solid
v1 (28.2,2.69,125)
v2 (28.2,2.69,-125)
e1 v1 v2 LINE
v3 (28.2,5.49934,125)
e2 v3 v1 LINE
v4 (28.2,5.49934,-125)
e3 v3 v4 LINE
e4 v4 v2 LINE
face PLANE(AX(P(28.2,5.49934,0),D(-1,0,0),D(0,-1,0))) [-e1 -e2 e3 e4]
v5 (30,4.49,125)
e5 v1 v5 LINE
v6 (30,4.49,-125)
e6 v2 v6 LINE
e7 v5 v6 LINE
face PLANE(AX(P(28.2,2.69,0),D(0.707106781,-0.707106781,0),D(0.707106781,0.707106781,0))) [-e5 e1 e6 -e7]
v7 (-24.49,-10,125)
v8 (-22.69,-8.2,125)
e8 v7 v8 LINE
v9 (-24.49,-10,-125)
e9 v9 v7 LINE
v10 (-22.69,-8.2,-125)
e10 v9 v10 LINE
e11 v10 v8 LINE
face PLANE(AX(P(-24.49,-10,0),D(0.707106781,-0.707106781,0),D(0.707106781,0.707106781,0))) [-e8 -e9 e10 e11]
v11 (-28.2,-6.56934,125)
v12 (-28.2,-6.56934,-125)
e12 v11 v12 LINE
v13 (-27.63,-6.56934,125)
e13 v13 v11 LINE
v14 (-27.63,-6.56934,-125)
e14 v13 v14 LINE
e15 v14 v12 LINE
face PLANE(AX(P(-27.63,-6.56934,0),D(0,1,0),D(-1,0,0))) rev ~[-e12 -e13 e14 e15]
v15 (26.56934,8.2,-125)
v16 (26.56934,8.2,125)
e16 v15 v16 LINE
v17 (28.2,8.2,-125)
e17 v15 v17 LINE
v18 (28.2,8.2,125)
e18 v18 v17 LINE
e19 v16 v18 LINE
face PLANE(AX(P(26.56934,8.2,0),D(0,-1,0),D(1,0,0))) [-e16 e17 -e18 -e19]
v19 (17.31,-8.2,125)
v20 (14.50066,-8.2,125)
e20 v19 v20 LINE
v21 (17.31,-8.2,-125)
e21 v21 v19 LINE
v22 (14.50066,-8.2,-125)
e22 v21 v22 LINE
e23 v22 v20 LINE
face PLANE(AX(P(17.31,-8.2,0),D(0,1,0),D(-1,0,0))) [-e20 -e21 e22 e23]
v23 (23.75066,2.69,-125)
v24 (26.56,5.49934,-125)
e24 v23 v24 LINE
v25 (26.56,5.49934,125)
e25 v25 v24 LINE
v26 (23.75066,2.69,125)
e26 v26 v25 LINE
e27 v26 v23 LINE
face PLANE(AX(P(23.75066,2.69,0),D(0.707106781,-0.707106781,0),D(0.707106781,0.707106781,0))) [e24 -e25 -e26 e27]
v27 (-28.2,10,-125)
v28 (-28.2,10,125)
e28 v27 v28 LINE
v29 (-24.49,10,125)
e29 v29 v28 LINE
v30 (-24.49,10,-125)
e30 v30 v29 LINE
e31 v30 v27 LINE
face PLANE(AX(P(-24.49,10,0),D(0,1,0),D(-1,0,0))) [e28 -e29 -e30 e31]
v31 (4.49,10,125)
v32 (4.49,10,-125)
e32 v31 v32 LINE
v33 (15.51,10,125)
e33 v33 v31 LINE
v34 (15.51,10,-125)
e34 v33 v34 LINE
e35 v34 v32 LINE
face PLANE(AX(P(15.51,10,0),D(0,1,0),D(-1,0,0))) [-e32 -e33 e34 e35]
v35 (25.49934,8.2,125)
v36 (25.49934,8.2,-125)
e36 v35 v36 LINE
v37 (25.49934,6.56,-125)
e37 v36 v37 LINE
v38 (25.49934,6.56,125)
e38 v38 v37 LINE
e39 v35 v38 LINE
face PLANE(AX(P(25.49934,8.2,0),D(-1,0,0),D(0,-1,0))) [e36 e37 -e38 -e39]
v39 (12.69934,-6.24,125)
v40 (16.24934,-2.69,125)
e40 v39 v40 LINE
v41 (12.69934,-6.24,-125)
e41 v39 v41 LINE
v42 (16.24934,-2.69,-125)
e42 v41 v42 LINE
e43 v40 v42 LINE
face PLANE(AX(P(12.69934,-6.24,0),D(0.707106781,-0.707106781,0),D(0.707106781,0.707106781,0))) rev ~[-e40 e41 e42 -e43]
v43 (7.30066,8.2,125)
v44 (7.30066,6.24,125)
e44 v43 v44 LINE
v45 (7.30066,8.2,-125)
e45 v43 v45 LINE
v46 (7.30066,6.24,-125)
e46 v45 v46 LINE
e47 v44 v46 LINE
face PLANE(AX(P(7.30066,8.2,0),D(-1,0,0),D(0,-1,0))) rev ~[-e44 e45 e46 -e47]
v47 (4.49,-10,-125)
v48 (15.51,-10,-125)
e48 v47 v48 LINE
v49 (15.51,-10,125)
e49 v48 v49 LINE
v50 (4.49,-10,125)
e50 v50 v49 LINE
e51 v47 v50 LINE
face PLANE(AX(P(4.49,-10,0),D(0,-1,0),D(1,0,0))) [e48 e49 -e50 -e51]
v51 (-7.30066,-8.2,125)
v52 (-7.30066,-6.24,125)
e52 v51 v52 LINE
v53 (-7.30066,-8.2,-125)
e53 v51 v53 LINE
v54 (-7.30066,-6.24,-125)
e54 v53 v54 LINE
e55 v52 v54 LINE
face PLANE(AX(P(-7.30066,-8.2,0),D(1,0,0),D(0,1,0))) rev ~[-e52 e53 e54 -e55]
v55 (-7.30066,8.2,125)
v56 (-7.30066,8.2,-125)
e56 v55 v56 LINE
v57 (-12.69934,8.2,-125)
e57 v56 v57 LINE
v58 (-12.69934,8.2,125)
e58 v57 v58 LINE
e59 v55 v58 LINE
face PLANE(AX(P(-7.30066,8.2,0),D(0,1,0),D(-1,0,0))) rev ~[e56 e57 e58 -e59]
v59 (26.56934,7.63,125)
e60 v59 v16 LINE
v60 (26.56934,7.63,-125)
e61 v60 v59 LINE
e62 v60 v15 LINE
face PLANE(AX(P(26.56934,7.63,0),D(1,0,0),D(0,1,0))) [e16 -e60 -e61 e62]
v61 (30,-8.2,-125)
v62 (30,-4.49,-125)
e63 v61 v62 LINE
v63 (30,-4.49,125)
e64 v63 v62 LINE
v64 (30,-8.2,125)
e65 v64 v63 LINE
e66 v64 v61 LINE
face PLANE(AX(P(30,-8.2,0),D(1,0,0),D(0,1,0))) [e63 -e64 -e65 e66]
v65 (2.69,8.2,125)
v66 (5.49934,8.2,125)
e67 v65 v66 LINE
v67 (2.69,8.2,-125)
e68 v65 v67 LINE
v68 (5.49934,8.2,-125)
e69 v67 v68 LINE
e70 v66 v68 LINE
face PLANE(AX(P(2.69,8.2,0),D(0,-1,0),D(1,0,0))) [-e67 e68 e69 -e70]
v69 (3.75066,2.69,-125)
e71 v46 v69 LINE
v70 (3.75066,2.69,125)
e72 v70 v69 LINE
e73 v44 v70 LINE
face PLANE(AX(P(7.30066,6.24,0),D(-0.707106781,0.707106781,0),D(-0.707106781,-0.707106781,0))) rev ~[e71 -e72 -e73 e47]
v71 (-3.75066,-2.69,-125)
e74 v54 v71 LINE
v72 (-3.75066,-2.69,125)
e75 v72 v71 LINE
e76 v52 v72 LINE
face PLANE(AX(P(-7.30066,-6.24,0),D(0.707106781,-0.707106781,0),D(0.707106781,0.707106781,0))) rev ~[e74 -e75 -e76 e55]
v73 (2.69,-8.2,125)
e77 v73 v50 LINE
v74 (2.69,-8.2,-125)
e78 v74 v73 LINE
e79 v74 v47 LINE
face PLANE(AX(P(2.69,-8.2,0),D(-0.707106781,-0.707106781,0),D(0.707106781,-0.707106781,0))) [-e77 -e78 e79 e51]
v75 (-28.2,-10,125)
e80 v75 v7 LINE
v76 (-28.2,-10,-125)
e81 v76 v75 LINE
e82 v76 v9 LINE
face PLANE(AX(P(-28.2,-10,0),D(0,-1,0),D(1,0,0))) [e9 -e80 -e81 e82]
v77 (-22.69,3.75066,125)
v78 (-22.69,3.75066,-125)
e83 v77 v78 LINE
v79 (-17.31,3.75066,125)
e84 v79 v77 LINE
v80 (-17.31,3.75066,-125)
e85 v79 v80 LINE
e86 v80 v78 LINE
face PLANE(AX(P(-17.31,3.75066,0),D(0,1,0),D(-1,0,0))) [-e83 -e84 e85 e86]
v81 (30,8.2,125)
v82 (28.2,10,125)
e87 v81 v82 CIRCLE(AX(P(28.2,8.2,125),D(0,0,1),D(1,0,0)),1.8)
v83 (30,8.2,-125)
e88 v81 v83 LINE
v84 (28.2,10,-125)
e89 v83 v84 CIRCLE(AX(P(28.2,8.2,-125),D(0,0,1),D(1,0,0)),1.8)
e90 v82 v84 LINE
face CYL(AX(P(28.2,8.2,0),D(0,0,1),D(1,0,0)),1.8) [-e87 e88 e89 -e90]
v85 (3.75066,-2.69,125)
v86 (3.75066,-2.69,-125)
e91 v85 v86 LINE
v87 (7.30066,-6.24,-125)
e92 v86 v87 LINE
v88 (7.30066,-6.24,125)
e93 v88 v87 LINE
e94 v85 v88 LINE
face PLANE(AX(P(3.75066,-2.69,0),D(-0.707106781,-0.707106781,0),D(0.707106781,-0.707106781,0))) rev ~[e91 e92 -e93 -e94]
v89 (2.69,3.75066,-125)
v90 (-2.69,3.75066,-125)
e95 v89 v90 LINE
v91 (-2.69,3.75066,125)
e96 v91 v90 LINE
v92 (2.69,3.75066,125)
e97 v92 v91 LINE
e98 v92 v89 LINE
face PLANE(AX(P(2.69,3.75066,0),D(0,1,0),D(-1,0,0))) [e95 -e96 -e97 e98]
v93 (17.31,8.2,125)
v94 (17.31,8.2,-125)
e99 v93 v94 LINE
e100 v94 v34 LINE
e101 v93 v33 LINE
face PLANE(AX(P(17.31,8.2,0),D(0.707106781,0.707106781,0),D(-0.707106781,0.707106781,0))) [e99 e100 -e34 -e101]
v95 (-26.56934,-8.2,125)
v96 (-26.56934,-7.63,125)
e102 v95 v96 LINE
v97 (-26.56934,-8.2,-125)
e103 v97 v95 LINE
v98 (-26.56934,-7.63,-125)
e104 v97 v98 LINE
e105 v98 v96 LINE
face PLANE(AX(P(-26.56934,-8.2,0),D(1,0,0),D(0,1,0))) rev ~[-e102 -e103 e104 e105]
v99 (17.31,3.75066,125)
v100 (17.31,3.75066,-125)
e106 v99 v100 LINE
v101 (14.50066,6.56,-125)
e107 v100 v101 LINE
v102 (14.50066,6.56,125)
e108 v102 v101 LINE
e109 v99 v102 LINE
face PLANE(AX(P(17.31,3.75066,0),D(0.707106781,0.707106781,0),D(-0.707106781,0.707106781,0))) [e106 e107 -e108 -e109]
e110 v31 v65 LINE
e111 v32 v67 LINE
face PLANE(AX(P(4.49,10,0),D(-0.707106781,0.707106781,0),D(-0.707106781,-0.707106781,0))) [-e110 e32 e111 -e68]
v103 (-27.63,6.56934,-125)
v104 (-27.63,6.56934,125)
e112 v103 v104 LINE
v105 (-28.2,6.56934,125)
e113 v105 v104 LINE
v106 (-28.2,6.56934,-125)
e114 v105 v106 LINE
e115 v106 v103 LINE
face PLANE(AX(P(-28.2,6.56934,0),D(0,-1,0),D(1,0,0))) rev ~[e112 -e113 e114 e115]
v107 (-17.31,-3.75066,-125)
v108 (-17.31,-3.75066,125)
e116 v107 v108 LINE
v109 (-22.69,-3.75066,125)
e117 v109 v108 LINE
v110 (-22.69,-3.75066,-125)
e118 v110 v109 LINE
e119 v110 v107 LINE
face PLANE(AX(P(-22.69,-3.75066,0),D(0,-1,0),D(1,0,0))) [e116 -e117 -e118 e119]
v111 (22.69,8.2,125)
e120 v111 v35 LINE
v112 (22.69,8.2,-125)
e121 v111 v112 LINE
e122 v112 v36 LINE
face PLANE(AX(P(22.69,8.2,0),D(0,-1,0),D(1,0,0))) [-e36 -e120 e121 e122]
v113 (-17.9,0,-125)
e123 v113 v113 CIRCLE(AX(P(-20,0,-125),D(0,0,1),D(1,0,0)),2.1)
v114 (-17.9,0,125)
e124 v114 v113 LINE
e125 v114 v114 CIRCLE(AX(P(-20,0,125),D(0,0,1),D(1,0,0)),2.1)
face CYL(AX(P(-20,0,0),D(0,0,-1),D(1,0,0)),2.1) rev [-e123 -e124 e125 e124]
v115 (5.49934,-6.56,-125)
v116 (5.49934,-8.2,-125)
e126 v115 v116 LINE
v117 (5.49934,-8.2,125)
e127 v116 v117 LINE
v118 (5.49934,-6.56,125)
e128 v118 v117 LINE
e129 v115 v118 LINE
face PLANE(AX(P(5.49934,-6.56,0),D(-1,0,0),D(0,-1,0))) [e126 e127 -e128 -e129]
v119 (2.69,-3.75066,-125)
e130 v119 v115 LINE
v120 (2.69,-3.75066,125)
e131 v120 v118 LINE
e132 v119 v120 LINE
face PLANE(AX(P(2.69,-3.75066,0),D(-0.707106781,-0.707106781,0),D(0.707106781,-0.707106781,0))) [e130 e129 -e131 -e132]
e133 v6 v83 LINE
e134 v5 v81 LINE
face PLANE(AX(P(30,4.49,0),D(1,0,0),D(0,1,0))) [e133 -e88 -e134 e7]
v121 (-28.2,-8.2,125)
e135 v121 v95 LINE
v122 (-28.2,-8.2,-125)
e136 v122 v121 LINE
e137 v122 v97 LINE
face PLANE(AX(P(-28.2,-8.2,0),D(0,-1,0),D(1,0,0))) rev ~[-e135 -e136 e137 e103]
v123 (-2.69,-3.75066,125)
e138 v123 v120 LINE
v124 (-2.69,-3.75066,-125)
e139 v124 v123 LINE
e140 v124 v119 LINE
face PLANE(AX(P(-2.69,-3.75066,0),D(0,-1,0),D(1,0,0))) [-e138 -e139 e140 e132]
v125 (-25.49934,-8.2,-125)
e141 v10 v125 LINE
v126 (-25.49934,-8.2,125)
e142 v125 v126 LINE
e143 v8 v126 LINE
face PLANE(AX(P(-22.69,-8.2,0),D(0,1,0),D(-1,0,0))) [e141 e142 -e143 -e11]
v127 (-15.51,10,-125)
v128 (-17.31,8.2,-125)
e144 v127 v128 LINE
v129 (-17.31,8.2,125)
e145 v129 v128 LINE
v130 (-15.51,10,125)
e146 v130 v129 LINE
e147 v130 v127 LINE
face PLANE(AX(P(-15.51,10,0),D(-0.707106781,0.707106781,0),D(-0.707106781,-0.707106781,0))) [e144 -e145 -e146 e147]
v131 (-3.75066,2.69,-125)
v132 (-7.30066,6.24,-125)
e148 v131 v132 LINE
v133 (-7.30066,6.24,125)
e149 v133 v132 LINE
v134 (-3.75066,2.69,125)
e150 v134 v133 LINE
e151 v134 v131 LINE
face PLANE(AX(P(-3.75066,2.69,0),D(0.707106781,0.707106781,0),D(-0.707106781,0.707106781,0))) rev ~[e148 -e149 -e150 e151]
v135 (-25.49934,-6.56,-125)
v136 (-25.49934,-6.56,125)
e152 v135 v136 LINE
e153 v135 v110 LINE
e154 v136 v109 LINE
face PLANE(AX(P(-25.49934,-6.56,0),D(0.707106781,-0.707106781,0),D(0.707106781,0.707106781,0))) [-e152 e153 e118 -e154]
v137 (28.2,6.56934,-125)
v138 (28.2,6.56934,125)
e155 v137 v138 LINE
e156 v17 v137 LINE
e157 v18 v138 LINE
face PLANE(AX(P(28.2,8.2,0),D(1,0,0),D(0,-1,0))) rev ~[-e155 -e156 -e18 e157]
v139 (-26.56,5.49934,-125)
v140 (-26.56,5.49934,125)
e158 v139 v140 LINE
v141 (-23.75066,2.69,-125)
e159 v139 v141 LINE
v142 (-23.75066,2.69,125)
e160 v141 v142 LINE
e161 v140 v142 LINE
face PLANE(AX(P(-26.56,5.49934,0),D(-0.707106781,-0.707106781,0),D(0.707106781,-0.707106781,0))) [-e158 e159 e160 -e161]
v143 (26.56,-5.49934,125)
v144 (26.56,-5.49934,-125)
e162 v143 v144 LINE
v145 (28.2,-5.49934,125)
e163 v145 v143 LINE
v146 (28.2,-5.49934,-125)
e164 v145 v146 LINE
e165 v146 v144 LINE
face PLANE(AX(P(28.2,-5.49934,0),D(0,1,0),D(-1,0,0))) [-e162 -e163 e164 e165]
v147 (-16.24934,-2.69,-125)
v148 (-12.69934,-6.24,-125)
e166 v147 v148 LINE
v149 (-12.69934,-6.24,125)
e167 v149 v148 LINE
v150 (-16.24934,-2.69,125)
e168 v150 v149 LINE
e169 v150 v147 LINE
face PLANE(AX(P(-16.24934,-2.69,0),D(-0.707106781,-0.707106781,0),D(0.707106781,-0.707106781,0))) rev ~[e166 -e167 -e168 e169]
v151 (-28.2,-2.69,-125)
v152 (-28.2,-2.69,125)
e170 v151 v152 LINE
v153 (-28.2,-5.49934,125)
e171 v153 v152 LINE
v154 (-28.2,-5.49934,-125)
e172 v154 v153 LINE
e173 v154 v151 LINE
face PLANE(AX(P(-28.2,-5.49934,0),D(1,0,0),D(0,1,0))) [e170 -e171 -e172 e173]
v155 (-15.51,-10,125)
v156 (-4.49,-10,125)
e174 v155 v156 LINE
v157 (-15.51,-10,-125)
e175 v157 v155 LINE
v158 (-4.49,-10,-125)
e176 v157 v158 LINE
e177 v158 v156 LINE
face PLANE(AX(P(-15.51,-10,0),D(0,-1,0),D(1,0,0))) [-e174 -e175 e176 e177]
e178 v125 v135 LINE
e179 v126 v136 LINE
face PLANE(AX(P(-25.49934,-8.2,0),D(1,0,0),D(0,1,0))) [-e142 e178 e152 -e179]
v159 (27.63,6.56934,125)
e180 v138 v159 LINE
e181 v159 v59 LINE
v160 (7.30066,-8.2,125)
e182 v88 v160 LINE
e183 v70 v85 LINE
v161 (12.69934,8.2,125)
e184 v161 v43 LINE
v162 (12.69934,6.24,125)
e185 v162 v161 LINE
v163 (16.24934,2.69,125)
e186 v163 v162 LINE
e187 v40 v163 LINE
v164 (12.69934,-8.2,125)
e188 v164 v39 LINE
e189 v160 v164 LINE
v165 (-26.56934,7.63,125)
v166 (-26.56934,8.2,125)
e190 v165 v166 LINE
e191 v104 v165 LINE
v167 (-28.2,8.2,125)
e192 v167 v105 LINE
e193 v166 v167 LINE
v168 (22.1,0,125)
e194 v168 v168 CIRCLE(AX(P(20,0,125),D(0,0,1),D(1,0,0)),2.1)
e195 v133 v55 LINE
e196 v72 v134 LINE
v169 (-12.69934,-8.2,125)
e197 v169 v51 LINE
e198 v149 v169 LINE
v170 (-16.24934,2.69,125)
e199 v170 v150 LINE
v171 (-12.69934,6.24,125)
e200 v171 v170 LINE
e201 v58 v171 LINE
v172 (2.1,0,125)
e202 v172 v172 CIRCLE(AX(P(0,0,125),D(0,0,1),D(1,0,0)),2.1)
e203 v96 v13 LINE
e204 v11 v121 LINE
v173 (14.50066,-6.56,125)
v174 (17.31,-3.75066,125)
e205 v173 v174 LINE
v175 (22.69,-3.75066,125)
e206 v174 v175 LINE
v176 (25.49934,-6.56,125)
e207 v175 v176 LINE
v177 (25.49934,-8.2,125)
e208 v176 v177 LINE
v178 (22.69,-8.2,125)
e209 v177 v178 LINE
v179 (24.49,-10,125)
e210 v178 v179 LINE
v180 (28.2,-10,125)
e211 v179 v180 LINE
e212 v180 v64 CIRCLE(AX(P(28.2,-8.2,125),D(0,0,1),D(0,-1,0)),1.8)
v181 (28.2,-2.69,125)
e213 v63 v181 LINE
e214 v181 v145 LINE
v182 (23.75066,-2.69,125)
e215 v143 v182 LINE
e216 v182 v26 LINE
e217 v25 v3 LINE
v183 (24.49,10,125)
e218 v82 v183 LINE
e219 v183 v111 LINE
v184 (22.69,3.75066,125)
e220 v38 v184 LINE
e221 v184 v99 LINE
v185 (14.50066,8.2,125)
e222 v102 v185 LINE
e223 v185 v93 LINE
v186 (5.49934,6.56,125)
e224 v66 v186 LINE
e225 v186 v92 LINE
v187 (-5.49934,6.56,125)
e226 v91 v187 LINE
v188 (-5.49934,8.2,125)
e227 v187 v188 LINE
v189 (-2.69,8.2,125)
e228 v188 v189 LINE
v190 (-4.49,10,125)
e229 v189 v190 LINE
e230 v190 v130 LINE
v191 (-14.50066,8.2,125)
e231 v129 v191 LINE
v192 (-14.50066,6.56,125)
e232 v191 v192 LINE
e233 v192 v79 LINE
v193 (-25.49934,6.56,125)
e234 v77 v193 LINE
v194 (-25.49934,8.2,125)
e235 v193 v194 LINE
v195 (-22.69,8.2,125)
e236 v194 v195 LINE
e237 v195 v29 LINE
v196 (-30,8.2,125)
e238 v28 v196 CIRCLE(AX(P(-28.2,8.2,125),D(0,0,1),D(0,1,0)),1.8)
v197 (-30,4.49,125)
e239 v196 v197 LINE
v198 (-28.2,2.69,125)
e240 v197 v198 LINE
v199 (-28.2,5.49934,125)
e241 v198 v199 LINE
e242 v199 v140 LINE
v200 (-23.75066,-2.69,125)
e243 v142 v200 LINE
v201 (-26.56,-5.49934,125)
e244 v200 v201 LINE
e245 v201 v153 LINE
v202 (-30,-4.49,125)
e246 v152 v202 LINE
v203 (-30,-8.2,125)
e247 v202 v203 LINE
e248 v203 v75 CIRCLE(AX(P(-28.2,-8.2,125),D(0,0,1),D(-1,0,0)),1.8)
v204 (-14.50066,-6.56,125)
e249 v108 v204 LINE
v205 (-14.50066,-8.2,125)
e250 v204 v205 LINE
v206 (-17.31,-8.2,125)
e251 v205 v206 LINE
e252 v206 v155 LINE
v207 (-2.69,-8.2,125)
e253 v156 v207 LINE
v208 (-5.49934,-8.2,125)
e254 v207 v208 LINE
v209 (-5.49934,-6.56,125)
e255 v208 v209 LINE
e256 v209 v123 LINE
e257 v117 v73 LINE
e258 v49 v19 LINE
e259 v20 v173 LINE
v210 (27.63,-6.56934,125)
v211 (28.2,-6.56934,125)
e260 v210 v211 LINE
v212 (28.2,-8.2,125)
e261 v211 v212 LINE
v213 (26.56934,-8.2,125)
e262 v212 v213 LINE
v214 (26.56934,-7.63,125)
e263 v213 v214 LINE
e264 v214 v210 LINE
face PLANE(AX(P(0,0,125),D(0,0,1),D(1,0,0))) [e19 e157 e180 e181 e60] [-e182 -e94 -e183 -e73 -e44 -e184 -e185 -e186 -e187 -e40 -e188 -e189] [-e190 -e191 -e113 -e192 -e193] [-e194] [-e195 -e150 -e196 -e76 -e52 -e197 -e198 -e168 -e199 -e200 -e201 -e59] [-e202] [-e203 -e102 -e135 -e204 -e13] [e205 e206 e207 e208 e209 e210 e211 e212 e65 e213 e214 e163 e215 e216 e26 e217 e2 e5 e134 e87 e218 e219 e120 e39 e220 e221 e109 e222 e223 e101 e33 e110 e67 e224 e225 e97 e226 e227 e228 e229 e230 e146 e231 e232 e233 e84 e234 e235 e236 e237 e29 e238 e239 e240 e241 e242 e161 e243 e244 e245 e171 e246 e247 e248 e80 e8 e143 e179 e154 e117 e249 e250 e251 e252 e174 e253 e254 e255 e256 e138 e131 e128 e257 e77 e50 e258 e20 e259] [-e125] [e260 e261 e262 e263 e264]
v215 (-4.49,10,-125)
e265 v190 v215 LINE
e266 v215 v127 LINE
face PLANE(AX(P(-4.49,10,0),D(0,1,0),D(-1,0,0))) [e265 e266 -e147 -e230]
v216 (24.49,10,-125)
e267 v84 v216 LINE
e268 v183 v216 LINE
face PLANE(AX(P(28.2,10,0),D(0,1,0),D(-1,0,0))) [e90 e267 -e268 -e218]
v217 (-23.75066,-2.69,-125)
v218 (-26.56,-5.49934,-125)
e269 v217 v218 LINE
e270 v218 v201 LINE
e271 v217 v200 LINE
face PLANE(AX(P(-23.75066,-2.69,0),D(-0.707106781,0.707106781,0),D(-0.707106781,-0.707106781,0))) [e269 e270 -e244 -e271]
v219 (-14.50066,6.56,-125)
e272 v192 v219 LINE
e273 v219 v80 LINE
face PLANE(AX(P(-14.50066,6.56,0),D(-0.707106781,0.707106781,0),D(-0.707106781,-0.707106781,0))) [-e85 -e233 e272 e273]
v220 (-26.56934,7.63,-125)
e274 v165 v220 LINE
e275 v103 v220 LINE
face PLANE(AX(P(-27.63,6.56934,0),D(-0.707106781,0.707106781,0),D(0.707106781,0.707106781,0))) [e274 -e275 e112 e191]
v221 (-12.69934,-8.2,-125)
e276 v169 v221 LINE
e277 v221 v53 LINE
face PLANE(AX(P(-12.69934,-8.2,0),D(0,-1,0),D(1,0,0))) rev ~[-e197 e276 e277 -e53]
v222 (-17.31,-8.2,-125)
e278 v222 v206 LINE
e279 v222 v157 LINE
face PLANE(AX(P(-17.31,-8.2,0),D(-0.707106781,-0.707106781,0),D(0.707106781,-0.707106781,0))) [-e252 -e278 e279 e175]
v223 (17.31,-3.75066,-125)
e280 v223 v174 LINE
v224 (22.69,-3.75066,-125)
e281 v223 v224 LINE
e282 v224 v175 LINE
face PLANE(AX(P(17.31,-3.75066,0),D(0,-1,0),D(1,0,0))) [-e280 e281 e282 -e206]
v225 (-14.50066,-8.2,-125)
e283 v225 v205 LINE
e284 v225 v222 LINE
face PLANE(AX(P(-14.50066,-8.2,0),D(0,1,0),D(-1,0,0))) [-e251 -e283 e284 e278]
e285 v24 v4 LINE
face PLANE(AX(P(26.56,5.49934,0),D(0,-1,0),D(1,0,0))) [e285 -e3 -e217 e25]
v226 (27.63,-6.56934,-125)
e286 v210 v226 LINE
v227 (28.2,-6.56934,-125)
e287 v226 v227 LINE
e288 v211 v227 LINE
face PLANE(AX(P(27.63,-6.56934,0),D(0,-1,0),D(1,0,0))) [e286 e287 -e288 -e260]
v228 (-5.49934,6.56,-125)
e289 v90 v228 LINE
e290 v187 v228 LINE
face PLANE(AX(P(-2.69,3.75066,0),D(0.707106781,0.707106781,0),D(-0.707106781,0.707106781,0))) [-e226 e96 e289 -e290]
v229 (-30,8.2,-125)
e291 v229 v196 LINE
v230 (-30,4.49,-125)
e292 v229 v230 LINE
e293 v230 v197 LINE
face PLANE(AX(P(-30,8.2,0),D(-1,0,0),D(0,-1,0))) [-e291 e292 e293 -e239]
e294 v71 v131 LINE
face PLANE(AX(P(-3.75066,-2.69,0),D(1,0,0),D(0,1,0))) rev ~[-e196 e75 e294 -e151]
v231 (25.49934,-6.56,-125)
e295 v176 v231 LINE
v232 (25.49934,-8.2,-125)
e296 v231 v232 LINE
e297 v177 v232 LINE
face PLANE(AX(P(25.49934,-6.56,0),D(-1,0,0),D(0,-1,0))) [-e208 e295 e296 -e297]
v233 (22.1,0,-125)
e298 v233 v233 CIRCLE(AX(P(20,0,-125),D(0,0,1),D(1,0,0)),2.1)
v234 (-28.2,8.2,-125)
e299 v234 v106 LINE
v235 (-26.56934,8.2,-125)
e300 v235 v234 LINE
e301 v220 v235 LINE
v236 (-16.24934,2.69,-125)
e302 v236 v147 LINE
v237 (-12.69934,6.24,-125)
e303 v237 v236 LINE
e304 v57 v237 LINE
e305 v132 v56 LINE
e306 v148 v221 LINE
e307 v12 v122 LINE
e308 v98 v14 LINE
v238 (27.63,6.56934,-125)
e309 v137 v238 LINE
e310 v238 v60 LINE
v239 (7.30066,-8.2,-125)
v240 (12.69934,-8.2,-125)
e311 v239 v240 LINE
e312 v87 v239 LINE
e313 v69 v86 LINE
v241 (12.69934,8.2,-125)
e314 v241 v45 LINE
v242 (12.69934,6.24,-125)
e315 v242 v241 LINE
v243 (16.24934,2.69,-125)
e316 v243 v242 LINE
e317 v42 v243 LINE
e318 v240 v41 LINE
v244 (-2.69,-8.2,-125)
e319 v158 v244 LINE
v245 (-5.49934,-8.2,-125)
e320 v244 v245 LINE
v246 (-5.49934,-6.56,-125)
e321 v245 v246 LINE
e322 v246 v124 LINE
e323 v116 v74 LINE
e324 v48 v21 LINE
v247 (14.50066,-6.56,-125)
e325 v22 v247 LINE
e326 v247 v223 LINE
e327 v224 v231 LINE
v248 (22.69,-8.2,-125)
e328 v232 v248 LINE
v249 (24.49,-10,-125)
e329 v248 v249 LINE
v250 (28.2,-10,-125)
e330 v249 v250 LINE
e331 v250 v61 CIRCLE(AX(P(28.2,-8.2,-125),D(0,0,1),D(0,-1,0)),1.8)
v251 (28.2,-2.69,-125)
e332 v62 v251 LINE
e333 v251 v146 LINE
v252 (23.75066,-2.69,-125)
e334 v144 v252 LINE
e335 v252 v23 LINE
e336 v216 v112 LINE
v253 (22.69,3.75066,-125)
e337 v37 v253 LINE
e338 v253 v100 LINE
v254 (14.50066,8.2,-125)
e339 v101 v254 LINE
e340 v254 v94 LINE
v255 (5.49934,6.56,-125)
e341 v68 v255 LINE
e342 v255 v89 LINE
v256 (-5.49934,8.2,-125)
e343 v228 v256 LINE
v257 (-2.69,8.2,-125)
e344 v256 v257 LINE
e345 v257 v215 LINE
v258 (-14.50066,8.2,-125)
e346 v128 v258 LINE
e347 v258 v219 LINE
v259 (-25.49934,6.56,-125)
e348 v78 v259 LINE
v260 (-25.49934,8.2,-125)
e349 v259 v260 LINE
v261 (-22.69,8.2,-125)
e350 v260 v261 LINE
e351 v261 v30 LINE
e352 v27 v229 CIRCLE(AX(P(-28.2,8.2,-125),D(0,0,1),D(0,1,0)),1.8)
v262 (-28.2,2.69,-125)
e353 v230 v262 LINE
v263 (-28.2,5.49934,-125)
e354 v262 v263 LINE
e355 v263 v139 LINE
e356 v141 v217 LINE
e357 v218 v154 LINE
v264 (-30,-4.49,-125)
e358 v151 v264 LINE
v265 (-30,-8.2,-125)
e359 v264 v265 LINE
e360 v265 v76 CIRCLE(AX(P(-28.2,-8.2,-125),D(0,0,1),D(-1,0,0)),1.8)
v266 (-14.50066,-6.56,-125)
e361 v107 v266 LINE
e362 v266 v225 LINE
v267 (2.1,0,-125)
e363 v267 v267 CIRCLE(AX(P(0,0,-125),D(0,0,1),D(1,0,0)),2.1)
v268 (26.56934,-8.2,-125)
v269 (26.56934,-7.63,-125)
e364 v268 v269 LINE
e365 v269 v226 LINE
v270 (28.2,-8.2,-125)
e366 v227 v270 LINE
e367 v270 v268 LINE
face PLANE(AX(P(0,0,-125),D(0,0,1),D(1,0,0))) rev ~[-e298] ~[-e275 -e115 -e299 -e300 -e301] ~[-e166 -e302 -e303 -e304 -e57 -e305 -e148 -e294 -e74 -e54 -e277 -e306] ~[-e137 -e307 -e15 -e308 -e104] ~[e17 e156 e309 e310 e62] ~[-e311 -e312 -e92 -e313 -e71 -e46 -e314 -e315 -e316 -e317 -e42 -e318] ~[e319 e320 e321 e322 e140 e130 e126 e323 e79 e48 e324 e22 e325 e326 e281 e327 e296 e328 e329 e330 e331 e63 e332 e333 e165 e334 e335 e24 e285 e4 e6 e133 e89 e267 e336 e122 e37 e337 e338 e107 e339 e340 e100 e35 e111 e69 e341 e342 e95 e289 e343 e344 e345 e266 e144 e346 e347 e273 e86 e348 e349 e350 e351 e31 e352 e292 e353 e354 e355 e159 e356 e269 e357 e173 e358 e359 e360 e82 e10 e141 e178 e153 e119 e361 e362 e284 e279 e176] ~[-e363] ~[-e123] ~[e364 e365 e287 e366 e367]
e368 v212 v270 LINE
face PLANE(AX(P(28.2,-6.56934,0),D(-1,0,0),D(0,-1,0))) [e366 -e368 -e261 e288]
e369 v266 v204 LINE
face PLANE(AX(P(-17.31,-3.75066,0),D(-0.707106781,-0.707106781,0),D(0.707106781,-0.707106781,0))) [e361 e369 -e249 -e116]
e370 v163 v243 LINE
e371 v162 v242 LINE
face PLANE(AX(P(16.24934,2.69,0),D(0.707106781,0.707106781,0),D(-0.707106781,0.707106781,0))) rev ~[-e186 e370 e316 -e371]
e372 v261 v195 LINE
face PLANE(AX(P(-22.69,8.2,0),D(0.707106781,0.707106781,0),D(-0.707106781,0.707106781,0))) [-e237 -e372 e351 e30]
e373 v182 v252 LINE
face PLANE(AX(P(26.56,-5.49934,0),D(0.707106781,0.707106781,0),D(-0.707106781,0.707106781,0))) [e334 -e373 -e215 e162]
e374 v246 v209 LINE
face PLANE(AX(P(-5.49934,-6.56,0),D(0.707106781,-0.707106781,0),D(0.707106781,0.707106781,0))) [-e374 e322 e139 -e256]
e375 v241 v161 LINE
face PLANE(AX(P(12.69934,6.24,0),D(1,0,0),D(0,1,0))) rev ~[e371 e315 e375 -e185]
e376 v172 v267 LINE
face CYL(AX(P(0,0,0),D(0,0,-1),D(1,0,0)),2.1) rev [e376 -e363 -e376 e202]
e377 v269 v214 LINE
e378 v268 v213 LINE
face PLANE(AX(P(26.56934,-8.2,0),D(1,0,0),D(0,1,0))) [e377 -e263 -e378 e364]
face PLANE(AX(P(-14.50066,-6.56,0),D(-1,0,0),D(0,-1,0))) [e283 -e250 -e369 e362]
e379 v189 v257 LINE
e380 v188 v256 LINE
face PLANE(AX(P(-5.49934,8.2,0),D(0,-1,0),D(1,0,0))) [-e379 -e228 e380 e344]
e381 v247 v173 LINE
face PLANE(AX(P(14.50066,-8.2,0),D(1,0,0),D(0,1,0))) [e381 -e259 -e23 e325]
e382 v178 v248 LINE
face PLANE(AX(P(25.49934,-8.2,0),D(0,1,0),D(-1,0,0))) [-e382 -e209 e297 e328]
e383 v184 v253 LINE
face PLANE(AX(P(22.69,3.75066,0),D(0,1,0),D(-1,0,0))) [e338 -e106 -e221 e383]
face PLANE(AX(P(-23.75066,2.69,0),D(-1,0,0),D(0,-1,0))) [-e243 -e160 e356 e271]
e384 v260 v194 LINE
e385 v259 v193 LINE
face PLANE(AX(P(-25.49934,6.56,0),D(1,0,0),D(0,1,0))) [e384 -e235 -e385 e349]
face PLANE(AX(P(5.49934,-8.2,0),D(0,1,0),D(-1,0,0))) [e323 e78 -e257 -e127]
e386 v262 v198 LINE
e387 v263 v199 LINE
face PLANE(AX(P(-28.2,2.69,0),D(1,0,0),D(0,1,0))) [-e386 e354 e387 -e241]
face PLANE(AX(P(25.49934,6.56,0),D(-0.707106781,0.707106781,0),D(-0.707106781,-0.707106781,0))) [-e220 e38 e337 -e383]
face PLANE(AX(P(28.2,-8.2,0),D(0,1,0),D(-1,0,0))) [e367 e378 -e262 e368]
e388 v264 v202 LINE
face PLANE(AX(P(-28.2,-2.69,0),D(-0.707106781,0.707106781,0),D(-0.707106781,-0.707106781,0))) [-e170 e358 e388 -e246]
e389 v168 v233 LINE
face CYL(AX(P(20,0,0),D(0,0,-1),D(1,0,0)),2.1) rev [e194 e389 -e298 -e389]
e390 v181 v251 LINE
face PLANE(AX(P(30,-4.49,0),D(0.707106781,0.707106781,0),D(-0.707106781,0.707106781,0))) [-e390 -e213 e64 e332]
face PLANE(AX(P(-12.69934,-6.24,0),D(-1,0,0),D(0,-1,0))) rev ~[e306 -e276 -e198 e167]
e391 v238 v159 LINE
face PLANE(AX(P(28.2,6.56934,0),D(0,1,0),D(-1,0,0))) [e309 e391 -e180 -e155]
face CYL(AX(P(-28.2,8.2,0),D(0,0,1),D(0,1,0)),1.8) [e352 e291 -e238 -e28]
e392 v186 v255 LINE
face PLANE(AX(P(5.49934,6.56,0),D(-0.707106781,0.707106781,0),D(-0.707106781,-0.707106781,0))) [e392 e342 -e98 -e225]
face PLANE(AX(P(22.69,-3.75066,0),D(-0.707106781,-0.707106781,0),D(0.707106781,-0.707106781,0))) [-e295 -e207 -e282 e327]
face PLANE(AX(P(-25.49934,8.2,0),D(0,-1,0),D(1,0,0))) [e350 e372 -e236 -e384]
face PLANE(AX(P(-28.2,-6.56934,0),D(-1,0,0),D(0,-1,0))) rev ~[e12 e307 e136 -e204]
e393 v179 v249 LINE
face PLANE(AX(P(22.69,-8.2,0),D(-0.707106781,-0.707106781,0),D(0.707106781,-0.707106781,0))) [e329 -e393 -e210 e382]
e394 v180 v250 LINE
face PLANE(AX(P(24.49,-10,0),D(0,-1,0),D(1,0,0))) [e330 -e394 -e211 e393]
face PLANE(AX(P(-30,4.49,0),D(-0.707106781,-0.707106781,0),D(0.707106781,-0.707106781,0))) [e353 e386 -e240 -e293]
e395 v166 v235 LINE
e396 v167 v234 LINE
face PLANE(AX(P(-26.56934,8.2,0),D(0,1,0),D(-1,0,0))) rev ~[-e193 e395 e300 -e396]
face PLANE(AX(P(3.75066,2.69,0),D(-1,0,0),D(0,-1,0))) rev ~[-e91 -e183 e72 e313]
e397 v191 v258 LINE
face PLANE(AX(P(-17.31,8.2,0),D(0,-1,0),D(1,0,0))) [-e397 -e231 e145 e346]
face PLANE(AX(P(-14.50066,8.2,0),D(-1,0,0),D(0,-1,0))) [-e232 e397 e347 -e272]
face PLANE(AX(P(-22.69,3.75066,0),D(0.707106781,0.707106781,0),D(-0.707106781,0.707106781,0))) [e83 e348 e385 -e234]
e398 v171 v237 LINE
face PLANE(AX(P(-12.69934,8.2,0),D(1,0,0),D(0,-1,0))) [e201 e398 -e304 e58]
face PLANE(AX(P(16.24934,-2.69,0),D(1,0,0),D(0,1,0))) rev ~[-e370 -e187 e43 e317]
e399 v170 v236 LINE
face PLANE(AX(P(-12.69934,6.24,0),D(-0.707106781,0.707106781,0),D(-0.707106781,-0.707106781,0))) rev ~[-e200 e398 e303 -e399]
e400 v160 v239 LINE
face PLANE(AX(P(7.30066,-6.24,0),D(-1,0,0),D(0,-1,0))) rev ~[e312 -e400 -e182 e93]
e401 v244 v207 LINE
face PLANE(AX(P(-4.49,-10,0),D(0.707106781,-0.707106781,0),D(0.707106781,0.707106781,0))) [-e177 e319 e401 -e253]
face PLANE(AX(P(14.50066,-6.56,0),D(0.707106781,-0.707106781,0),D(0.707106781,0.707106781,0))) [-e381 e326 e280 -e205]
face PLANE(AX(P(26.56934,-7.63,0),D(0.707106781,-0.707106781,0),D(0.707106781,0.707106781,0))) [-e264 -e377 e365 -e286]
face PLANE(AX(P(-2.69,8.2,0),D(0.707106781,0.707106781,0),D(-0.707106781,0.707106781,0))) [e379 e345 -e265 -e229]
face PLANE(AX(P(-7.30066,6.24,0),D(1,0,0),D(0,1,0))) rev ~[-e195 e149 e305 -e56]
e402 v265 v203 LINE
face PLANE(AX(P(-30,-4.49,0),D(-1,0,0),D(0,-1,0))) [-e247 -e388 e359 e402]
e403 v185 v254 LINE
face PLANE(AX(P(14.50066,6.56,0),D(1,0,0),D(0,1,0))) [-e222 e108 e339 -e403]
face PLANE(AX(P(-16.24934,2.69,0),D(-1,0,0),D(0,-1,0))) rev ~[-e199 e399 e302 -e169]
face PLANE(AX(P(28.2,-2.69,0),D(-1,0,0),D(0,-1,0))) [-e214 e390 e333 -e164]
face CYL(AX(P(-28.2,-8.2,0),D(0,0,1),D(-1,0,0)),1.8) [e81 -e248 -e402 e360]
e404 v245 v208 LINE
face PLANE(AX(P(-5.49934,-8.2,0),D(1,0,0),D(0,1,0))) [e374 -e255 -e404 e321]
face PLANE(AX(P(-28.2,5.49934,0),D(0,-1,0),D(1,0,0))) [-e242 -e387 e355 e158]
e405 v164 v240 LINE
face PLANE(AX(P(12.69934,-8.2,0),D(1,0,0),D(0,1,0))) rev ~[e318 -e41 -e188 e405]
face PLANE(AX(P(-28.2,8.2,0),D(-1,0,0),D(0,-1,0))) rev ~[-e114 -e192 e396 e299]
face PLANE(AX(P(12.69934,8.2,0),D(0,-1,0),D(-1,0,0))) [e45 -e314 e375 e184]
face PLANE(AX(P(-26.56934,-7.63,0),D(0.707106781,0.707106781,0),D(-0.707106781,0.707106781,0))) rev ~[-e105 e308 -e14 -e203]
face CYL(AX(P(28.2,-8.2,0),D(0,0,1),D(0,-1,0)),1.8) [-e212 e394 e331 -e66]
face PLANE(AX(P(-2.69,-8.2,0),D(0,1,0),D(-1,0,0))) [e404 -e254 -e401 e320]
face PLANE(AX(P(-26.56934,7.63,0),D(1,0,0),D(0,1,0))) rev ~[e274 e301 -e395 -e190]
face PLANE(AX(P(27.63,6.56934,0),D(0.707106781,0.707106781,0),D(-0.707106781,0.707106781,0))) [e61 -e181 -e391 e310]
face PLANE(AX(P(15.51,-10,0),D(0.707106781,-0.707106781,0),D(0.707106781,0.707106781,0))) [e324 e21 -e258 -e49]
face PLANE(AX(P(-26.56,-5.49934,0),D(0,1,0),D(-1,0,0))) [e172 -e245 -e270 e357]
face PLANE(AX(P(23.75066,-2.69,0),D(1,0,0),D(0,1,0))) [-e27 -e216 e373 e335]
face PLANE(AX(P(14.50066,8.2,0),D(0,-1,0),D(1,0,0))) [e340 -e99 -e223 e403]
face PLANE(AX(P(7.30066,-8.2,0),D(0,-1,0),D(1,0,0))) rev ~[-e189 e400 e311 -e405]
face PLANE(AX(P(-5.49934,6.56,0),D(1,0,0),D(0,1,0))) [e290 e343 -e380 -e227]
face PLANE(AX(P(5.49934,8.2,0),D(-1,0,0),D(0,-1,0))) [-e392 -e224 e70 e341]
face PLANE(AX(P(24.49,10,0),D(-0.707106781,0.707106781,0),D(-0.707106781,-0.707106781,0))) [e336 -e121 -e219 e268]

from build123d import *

# Parameters (mm, degrees)
ESQUISSE1_R        = 2.1
BOSS_EXTRU_1_DEPTH = 125


with BuildPart() as part:
    # Esquisse1 → Boss.-Extru.1 (new, symmetric)
    with BuildSketch(Plane.XY):
        with BuildLine():
            Line((-20, 3.750660172), (-22.69, 3.750660172))
            Line((-22.69, 3.750660172), (-25.499339828, 6.56))
            Line((-25.499339828, 6.56), (-25.499339828, 8.2))
            Line((-25.499339828, 8.2), (-22.69, 8.2))
            Line((-22.69, 8.2), (-24.49, 10))
            Line((-24.49, 10), (-28.2, 10))
            ThreePointArc((-28.2, 10), (-29.472792206, 9.472792206), (-30, 8.2))
            Line((-30, 8.2), (-30, 4.49))
            Line((-30, 4.49), (-28.2, 2.69))
            Line((-28.2, 2.69), (-28.2, 5.499339828))
            Line((-28.2, 5.499339828), (-26.56, 5.499339828))
            Line((-26.56, 5.499339828), (-23.750660172, 2.69))
            Line((-23.750660172, 2.69), (-23.750660172, 0))
            Line((-23.750660172, 0), (-23.750660172, -2.69))
            Line((-23.750660172, -2.69), (-26.56, -5.499339828))
            Line((-26.56, -5.499339828), (-28.2, -5.499339828))
            Line((-28.2, -5.499339828), (-28.2, -2.69))
            Line((-28.2, -2.69), (-30, -4.49))
            Line((-30, -4.49), (-30, -8.2))
            ThreePointArc((-30, -8.2), (-29.472792206, -9.472792206), (-28.2, -10))
            Line((-28.2, -10), (-24.49, -10))
            Line((-24.49, -10), (-22.69, -8.2))
            Line((-22.69, -8.2), (-25.499339828, -8.2))
            Line((-25.499339828, -8.2), (-25.499339828, -6.56))
            Line((-25.499339828, -6.56), (-22.69, -3.750660172))
            Line((-22.69, -3.750660172), (-20, -3.750660172))
            Line((-20, -3.750660172), (-17.31, -3.750660172))
            Line((-17.31, -3.750660172), (-14.500660172, -6.56))
            Line((-14.500660172, -6.56), (-14.500660172, -8.2))
            Line((-14.500660172, -8.2), (-17.31, -8.2))
            Line((-17.31, -8.2), (-15.51, -10))
            Line((-15.51, -10), (-4.49, -10))
            Line((-4.49, -10), (-2.69, -8.2))
            Line((-2.69, -8.2), (-5.499339828, -8.2))
            Line((-5.499339828, -8.2), (-5.499339828, -6.56))
            Line((-5.499339828, -6.56), (-2.69, -3.750660172))
            Line((-2.69, -3.750660172), (2.69, -3.750660172))
            Line((2.69, -3.750660172), (5.499339828, -6.56))
            Line((5.499339828, -6.56), (5.499339828, -8.2))
            Line((5.499339828, -8.2), (2.69, -8.2))
            Line((2.69, -8.2), (4.49, -10))
            Line((4.49, -10), (15.51, -10))
            Line((15.51, -10), (17.31, -8.2))
            Line((17.31, -8.2), (14.500660172, -8.2))
            Line((14.500660172, -8.2), (14.500660172, -6.56))
            Line((14.500660172, -6.56), (17.31, -3.750660172))
            Line((17.31, -3.750660172), (20, -3.750660172))
            Line((20, -3.750660172), (22.69, -3.750660172))
            Line((22.69, -3.750660172), (25.499339828, -6.56))
            Line((25.499339828, -6.56), (25.499339828, -8.2))
            Line((25.499339828, -8.2), (22.69, -8.2))
            Line((22.69, -8.2), (24.49, -10))
            Line((24.49, -10), (28.2, -10))
            ThreePointArc((28.2, -10), (29.472792206, -9.472792206), (30, -8.2))
            Line((30, -8.2), (30, -4.49))
            Line((30, -4.49), (28.2, -2.69))
            Line((28.2, -2.69), (28.2, -5.499339828))
            Line((28.2, -5.499339828), (26.56, -5.499339828))
            Line((26.56, -5.499339828), (23.750660172, -2.69))
            Line((23.750660172, -2.69), (23.750660172, 0))
            Line((23.750660172, 0), (23.750660172, 2.69))
            Line((23.750660172, 2.69), (26.56, 5.499339828))
            Line((26.56, 5.499339828), (28.2, 5.499339828))
            Line((28.2, 5.499339828), (28.2, 2.69))
            Line((28.2, 2.69), (30, 4.49))
            Line((30, 4.49), (30, 8.2))
            ThreePointArc((30, 8.2), (29.472792206, 9.472792206), (28.2, 10))
            Line((28.2, 10), (24.49, 10))
            Line((24.49, 10), (22.69, 8.2))
            Line((22.69, 8.2), (25.499339828, 8.2))
            Line((25.499339828, 8.2), (25.499339828, 6.56))
            Line((25.499339828, 6.56), (22.69, 3.750660172))
            Line((22.69, 3.750660172), (20, 3.750660172))
            Line((20, 3.750660172), (17.31, 3.750660172))
            Line((17.31, 3.750660172), (14.500660172, 6.56))
            Line((14.500660172, 6.56), (14.500660172, 8.2))
            Line((14.500660172, 8.2), (17.31, 8.2))
            Line((17.31, 8.2), (15.51, 10))
            Line((15.51, 10), (4.49, 10))
            Line((4.49, 10), (2.69, 8.2))
            Line((2.69, 8.2), (5.499339828, 8.2))
            Line((5.499339828, 8.2), (5.499339828, 6.56))
            Line((5.499339828, 6.56), (2.69, 3.750660172))
            Line((2.69, 3.750660172), (-2.69, 3.750660172))
            Line((-2.69, 3.750660172), (-5.499339828, 6.56))
            Line((-5.499339828, 6.56), (-5.499339828, 8.2))
            Line((-5.499339828, 8.2), (-2.69, 8.2))
            Line((-2.69, 8.2), (-4.49, 10))
            Line((-4.49, 10), (-15.51, 10))
            Line((-15.51, 10), (-17.31, 8.2))
            Line((-17.31, 8.2), (-14.500660172, 8.2))
            Line((-14.500660172, 8.2), (-14.500660172, 6.56))
            Line((-14.500660172, 6.56), (-17.31, 3.750660172))
            Line((-17.31, 3.750660172), (-20, 3.750660172))
        make_face()
        Circle(ESQUISSE1_R, mode=Mode.SUBTRACT)
        with Locations((-20, 0)):
            Circle(ESQUISSE1_R, mode=Mode.SUBTRACT)
        with Locations((20, 0)):
            Circle(ESQUISSE1_R, mode=Mode.SUBTRACT)
        Polygon((-28.2, 8.2), (-28.2, 6.569339828), (-27.63, 6.569339828), (-26.569339828, 7.63), (-26.569339828, 8.2), align=None, mode=Mode.SUBTRACT)
        Polygon((-26.569339828, -7.63), (-27.63, -6.569339828), (-28.2, -6.569339828), (-28.2, -8.2), (-26.569339828, -8.2), align=None, mode=Mode.SUBTRACT)
        Polygon((-7.300660172, -8.2), (-7.300660172, -6.24), (-3.750660172, -2.69), (-3.750660172, 2.69), (-7.300660172, 6.24), (-7.300660172, 8.2), (-12.699339828, 8.2), (-12.699339828, 6.24), (-16.249339828, 2.69), (-16.249339828, -2.69), (-12.699339828, -6.24), (-12.699339828, -8.2), align=None, mode=Mode.SUBTRACT)
        Polygon((26.569339828, 8.2), (28.2, 8.2), (28.2, 6.569339828), (27.63, 6.569339828), (26.569339828, 7.63), align=None, mode=Mode.SUBTRACT)
        Polygon((26.569339828, -8.2), (26.569339828, -7.63), (27.63, -6.569339828), (28.2, -6.569339828), (28.2, -8.2), align=None, mode=Mode.SUBTRACT)
        Polygon((7.300660172, 8.2), (7.300660172, 6.24), (3.750660172, 2.69), (3.750660172, -2.69), (7.300660172, -6.24), (7.300660172, -8.2), (12.699339828, -8.2), (12.699339828, -6.24), (16.249339828, -2.69), (16.249339828, 2.69), (12.699339828, 6.24), (12.699339828, 8.2), align=None, mode=Mode.SUBTRACT)
    extrude(amount=BOSS_EXTRU_1_DEPTH, both=True)


solid = part.part
